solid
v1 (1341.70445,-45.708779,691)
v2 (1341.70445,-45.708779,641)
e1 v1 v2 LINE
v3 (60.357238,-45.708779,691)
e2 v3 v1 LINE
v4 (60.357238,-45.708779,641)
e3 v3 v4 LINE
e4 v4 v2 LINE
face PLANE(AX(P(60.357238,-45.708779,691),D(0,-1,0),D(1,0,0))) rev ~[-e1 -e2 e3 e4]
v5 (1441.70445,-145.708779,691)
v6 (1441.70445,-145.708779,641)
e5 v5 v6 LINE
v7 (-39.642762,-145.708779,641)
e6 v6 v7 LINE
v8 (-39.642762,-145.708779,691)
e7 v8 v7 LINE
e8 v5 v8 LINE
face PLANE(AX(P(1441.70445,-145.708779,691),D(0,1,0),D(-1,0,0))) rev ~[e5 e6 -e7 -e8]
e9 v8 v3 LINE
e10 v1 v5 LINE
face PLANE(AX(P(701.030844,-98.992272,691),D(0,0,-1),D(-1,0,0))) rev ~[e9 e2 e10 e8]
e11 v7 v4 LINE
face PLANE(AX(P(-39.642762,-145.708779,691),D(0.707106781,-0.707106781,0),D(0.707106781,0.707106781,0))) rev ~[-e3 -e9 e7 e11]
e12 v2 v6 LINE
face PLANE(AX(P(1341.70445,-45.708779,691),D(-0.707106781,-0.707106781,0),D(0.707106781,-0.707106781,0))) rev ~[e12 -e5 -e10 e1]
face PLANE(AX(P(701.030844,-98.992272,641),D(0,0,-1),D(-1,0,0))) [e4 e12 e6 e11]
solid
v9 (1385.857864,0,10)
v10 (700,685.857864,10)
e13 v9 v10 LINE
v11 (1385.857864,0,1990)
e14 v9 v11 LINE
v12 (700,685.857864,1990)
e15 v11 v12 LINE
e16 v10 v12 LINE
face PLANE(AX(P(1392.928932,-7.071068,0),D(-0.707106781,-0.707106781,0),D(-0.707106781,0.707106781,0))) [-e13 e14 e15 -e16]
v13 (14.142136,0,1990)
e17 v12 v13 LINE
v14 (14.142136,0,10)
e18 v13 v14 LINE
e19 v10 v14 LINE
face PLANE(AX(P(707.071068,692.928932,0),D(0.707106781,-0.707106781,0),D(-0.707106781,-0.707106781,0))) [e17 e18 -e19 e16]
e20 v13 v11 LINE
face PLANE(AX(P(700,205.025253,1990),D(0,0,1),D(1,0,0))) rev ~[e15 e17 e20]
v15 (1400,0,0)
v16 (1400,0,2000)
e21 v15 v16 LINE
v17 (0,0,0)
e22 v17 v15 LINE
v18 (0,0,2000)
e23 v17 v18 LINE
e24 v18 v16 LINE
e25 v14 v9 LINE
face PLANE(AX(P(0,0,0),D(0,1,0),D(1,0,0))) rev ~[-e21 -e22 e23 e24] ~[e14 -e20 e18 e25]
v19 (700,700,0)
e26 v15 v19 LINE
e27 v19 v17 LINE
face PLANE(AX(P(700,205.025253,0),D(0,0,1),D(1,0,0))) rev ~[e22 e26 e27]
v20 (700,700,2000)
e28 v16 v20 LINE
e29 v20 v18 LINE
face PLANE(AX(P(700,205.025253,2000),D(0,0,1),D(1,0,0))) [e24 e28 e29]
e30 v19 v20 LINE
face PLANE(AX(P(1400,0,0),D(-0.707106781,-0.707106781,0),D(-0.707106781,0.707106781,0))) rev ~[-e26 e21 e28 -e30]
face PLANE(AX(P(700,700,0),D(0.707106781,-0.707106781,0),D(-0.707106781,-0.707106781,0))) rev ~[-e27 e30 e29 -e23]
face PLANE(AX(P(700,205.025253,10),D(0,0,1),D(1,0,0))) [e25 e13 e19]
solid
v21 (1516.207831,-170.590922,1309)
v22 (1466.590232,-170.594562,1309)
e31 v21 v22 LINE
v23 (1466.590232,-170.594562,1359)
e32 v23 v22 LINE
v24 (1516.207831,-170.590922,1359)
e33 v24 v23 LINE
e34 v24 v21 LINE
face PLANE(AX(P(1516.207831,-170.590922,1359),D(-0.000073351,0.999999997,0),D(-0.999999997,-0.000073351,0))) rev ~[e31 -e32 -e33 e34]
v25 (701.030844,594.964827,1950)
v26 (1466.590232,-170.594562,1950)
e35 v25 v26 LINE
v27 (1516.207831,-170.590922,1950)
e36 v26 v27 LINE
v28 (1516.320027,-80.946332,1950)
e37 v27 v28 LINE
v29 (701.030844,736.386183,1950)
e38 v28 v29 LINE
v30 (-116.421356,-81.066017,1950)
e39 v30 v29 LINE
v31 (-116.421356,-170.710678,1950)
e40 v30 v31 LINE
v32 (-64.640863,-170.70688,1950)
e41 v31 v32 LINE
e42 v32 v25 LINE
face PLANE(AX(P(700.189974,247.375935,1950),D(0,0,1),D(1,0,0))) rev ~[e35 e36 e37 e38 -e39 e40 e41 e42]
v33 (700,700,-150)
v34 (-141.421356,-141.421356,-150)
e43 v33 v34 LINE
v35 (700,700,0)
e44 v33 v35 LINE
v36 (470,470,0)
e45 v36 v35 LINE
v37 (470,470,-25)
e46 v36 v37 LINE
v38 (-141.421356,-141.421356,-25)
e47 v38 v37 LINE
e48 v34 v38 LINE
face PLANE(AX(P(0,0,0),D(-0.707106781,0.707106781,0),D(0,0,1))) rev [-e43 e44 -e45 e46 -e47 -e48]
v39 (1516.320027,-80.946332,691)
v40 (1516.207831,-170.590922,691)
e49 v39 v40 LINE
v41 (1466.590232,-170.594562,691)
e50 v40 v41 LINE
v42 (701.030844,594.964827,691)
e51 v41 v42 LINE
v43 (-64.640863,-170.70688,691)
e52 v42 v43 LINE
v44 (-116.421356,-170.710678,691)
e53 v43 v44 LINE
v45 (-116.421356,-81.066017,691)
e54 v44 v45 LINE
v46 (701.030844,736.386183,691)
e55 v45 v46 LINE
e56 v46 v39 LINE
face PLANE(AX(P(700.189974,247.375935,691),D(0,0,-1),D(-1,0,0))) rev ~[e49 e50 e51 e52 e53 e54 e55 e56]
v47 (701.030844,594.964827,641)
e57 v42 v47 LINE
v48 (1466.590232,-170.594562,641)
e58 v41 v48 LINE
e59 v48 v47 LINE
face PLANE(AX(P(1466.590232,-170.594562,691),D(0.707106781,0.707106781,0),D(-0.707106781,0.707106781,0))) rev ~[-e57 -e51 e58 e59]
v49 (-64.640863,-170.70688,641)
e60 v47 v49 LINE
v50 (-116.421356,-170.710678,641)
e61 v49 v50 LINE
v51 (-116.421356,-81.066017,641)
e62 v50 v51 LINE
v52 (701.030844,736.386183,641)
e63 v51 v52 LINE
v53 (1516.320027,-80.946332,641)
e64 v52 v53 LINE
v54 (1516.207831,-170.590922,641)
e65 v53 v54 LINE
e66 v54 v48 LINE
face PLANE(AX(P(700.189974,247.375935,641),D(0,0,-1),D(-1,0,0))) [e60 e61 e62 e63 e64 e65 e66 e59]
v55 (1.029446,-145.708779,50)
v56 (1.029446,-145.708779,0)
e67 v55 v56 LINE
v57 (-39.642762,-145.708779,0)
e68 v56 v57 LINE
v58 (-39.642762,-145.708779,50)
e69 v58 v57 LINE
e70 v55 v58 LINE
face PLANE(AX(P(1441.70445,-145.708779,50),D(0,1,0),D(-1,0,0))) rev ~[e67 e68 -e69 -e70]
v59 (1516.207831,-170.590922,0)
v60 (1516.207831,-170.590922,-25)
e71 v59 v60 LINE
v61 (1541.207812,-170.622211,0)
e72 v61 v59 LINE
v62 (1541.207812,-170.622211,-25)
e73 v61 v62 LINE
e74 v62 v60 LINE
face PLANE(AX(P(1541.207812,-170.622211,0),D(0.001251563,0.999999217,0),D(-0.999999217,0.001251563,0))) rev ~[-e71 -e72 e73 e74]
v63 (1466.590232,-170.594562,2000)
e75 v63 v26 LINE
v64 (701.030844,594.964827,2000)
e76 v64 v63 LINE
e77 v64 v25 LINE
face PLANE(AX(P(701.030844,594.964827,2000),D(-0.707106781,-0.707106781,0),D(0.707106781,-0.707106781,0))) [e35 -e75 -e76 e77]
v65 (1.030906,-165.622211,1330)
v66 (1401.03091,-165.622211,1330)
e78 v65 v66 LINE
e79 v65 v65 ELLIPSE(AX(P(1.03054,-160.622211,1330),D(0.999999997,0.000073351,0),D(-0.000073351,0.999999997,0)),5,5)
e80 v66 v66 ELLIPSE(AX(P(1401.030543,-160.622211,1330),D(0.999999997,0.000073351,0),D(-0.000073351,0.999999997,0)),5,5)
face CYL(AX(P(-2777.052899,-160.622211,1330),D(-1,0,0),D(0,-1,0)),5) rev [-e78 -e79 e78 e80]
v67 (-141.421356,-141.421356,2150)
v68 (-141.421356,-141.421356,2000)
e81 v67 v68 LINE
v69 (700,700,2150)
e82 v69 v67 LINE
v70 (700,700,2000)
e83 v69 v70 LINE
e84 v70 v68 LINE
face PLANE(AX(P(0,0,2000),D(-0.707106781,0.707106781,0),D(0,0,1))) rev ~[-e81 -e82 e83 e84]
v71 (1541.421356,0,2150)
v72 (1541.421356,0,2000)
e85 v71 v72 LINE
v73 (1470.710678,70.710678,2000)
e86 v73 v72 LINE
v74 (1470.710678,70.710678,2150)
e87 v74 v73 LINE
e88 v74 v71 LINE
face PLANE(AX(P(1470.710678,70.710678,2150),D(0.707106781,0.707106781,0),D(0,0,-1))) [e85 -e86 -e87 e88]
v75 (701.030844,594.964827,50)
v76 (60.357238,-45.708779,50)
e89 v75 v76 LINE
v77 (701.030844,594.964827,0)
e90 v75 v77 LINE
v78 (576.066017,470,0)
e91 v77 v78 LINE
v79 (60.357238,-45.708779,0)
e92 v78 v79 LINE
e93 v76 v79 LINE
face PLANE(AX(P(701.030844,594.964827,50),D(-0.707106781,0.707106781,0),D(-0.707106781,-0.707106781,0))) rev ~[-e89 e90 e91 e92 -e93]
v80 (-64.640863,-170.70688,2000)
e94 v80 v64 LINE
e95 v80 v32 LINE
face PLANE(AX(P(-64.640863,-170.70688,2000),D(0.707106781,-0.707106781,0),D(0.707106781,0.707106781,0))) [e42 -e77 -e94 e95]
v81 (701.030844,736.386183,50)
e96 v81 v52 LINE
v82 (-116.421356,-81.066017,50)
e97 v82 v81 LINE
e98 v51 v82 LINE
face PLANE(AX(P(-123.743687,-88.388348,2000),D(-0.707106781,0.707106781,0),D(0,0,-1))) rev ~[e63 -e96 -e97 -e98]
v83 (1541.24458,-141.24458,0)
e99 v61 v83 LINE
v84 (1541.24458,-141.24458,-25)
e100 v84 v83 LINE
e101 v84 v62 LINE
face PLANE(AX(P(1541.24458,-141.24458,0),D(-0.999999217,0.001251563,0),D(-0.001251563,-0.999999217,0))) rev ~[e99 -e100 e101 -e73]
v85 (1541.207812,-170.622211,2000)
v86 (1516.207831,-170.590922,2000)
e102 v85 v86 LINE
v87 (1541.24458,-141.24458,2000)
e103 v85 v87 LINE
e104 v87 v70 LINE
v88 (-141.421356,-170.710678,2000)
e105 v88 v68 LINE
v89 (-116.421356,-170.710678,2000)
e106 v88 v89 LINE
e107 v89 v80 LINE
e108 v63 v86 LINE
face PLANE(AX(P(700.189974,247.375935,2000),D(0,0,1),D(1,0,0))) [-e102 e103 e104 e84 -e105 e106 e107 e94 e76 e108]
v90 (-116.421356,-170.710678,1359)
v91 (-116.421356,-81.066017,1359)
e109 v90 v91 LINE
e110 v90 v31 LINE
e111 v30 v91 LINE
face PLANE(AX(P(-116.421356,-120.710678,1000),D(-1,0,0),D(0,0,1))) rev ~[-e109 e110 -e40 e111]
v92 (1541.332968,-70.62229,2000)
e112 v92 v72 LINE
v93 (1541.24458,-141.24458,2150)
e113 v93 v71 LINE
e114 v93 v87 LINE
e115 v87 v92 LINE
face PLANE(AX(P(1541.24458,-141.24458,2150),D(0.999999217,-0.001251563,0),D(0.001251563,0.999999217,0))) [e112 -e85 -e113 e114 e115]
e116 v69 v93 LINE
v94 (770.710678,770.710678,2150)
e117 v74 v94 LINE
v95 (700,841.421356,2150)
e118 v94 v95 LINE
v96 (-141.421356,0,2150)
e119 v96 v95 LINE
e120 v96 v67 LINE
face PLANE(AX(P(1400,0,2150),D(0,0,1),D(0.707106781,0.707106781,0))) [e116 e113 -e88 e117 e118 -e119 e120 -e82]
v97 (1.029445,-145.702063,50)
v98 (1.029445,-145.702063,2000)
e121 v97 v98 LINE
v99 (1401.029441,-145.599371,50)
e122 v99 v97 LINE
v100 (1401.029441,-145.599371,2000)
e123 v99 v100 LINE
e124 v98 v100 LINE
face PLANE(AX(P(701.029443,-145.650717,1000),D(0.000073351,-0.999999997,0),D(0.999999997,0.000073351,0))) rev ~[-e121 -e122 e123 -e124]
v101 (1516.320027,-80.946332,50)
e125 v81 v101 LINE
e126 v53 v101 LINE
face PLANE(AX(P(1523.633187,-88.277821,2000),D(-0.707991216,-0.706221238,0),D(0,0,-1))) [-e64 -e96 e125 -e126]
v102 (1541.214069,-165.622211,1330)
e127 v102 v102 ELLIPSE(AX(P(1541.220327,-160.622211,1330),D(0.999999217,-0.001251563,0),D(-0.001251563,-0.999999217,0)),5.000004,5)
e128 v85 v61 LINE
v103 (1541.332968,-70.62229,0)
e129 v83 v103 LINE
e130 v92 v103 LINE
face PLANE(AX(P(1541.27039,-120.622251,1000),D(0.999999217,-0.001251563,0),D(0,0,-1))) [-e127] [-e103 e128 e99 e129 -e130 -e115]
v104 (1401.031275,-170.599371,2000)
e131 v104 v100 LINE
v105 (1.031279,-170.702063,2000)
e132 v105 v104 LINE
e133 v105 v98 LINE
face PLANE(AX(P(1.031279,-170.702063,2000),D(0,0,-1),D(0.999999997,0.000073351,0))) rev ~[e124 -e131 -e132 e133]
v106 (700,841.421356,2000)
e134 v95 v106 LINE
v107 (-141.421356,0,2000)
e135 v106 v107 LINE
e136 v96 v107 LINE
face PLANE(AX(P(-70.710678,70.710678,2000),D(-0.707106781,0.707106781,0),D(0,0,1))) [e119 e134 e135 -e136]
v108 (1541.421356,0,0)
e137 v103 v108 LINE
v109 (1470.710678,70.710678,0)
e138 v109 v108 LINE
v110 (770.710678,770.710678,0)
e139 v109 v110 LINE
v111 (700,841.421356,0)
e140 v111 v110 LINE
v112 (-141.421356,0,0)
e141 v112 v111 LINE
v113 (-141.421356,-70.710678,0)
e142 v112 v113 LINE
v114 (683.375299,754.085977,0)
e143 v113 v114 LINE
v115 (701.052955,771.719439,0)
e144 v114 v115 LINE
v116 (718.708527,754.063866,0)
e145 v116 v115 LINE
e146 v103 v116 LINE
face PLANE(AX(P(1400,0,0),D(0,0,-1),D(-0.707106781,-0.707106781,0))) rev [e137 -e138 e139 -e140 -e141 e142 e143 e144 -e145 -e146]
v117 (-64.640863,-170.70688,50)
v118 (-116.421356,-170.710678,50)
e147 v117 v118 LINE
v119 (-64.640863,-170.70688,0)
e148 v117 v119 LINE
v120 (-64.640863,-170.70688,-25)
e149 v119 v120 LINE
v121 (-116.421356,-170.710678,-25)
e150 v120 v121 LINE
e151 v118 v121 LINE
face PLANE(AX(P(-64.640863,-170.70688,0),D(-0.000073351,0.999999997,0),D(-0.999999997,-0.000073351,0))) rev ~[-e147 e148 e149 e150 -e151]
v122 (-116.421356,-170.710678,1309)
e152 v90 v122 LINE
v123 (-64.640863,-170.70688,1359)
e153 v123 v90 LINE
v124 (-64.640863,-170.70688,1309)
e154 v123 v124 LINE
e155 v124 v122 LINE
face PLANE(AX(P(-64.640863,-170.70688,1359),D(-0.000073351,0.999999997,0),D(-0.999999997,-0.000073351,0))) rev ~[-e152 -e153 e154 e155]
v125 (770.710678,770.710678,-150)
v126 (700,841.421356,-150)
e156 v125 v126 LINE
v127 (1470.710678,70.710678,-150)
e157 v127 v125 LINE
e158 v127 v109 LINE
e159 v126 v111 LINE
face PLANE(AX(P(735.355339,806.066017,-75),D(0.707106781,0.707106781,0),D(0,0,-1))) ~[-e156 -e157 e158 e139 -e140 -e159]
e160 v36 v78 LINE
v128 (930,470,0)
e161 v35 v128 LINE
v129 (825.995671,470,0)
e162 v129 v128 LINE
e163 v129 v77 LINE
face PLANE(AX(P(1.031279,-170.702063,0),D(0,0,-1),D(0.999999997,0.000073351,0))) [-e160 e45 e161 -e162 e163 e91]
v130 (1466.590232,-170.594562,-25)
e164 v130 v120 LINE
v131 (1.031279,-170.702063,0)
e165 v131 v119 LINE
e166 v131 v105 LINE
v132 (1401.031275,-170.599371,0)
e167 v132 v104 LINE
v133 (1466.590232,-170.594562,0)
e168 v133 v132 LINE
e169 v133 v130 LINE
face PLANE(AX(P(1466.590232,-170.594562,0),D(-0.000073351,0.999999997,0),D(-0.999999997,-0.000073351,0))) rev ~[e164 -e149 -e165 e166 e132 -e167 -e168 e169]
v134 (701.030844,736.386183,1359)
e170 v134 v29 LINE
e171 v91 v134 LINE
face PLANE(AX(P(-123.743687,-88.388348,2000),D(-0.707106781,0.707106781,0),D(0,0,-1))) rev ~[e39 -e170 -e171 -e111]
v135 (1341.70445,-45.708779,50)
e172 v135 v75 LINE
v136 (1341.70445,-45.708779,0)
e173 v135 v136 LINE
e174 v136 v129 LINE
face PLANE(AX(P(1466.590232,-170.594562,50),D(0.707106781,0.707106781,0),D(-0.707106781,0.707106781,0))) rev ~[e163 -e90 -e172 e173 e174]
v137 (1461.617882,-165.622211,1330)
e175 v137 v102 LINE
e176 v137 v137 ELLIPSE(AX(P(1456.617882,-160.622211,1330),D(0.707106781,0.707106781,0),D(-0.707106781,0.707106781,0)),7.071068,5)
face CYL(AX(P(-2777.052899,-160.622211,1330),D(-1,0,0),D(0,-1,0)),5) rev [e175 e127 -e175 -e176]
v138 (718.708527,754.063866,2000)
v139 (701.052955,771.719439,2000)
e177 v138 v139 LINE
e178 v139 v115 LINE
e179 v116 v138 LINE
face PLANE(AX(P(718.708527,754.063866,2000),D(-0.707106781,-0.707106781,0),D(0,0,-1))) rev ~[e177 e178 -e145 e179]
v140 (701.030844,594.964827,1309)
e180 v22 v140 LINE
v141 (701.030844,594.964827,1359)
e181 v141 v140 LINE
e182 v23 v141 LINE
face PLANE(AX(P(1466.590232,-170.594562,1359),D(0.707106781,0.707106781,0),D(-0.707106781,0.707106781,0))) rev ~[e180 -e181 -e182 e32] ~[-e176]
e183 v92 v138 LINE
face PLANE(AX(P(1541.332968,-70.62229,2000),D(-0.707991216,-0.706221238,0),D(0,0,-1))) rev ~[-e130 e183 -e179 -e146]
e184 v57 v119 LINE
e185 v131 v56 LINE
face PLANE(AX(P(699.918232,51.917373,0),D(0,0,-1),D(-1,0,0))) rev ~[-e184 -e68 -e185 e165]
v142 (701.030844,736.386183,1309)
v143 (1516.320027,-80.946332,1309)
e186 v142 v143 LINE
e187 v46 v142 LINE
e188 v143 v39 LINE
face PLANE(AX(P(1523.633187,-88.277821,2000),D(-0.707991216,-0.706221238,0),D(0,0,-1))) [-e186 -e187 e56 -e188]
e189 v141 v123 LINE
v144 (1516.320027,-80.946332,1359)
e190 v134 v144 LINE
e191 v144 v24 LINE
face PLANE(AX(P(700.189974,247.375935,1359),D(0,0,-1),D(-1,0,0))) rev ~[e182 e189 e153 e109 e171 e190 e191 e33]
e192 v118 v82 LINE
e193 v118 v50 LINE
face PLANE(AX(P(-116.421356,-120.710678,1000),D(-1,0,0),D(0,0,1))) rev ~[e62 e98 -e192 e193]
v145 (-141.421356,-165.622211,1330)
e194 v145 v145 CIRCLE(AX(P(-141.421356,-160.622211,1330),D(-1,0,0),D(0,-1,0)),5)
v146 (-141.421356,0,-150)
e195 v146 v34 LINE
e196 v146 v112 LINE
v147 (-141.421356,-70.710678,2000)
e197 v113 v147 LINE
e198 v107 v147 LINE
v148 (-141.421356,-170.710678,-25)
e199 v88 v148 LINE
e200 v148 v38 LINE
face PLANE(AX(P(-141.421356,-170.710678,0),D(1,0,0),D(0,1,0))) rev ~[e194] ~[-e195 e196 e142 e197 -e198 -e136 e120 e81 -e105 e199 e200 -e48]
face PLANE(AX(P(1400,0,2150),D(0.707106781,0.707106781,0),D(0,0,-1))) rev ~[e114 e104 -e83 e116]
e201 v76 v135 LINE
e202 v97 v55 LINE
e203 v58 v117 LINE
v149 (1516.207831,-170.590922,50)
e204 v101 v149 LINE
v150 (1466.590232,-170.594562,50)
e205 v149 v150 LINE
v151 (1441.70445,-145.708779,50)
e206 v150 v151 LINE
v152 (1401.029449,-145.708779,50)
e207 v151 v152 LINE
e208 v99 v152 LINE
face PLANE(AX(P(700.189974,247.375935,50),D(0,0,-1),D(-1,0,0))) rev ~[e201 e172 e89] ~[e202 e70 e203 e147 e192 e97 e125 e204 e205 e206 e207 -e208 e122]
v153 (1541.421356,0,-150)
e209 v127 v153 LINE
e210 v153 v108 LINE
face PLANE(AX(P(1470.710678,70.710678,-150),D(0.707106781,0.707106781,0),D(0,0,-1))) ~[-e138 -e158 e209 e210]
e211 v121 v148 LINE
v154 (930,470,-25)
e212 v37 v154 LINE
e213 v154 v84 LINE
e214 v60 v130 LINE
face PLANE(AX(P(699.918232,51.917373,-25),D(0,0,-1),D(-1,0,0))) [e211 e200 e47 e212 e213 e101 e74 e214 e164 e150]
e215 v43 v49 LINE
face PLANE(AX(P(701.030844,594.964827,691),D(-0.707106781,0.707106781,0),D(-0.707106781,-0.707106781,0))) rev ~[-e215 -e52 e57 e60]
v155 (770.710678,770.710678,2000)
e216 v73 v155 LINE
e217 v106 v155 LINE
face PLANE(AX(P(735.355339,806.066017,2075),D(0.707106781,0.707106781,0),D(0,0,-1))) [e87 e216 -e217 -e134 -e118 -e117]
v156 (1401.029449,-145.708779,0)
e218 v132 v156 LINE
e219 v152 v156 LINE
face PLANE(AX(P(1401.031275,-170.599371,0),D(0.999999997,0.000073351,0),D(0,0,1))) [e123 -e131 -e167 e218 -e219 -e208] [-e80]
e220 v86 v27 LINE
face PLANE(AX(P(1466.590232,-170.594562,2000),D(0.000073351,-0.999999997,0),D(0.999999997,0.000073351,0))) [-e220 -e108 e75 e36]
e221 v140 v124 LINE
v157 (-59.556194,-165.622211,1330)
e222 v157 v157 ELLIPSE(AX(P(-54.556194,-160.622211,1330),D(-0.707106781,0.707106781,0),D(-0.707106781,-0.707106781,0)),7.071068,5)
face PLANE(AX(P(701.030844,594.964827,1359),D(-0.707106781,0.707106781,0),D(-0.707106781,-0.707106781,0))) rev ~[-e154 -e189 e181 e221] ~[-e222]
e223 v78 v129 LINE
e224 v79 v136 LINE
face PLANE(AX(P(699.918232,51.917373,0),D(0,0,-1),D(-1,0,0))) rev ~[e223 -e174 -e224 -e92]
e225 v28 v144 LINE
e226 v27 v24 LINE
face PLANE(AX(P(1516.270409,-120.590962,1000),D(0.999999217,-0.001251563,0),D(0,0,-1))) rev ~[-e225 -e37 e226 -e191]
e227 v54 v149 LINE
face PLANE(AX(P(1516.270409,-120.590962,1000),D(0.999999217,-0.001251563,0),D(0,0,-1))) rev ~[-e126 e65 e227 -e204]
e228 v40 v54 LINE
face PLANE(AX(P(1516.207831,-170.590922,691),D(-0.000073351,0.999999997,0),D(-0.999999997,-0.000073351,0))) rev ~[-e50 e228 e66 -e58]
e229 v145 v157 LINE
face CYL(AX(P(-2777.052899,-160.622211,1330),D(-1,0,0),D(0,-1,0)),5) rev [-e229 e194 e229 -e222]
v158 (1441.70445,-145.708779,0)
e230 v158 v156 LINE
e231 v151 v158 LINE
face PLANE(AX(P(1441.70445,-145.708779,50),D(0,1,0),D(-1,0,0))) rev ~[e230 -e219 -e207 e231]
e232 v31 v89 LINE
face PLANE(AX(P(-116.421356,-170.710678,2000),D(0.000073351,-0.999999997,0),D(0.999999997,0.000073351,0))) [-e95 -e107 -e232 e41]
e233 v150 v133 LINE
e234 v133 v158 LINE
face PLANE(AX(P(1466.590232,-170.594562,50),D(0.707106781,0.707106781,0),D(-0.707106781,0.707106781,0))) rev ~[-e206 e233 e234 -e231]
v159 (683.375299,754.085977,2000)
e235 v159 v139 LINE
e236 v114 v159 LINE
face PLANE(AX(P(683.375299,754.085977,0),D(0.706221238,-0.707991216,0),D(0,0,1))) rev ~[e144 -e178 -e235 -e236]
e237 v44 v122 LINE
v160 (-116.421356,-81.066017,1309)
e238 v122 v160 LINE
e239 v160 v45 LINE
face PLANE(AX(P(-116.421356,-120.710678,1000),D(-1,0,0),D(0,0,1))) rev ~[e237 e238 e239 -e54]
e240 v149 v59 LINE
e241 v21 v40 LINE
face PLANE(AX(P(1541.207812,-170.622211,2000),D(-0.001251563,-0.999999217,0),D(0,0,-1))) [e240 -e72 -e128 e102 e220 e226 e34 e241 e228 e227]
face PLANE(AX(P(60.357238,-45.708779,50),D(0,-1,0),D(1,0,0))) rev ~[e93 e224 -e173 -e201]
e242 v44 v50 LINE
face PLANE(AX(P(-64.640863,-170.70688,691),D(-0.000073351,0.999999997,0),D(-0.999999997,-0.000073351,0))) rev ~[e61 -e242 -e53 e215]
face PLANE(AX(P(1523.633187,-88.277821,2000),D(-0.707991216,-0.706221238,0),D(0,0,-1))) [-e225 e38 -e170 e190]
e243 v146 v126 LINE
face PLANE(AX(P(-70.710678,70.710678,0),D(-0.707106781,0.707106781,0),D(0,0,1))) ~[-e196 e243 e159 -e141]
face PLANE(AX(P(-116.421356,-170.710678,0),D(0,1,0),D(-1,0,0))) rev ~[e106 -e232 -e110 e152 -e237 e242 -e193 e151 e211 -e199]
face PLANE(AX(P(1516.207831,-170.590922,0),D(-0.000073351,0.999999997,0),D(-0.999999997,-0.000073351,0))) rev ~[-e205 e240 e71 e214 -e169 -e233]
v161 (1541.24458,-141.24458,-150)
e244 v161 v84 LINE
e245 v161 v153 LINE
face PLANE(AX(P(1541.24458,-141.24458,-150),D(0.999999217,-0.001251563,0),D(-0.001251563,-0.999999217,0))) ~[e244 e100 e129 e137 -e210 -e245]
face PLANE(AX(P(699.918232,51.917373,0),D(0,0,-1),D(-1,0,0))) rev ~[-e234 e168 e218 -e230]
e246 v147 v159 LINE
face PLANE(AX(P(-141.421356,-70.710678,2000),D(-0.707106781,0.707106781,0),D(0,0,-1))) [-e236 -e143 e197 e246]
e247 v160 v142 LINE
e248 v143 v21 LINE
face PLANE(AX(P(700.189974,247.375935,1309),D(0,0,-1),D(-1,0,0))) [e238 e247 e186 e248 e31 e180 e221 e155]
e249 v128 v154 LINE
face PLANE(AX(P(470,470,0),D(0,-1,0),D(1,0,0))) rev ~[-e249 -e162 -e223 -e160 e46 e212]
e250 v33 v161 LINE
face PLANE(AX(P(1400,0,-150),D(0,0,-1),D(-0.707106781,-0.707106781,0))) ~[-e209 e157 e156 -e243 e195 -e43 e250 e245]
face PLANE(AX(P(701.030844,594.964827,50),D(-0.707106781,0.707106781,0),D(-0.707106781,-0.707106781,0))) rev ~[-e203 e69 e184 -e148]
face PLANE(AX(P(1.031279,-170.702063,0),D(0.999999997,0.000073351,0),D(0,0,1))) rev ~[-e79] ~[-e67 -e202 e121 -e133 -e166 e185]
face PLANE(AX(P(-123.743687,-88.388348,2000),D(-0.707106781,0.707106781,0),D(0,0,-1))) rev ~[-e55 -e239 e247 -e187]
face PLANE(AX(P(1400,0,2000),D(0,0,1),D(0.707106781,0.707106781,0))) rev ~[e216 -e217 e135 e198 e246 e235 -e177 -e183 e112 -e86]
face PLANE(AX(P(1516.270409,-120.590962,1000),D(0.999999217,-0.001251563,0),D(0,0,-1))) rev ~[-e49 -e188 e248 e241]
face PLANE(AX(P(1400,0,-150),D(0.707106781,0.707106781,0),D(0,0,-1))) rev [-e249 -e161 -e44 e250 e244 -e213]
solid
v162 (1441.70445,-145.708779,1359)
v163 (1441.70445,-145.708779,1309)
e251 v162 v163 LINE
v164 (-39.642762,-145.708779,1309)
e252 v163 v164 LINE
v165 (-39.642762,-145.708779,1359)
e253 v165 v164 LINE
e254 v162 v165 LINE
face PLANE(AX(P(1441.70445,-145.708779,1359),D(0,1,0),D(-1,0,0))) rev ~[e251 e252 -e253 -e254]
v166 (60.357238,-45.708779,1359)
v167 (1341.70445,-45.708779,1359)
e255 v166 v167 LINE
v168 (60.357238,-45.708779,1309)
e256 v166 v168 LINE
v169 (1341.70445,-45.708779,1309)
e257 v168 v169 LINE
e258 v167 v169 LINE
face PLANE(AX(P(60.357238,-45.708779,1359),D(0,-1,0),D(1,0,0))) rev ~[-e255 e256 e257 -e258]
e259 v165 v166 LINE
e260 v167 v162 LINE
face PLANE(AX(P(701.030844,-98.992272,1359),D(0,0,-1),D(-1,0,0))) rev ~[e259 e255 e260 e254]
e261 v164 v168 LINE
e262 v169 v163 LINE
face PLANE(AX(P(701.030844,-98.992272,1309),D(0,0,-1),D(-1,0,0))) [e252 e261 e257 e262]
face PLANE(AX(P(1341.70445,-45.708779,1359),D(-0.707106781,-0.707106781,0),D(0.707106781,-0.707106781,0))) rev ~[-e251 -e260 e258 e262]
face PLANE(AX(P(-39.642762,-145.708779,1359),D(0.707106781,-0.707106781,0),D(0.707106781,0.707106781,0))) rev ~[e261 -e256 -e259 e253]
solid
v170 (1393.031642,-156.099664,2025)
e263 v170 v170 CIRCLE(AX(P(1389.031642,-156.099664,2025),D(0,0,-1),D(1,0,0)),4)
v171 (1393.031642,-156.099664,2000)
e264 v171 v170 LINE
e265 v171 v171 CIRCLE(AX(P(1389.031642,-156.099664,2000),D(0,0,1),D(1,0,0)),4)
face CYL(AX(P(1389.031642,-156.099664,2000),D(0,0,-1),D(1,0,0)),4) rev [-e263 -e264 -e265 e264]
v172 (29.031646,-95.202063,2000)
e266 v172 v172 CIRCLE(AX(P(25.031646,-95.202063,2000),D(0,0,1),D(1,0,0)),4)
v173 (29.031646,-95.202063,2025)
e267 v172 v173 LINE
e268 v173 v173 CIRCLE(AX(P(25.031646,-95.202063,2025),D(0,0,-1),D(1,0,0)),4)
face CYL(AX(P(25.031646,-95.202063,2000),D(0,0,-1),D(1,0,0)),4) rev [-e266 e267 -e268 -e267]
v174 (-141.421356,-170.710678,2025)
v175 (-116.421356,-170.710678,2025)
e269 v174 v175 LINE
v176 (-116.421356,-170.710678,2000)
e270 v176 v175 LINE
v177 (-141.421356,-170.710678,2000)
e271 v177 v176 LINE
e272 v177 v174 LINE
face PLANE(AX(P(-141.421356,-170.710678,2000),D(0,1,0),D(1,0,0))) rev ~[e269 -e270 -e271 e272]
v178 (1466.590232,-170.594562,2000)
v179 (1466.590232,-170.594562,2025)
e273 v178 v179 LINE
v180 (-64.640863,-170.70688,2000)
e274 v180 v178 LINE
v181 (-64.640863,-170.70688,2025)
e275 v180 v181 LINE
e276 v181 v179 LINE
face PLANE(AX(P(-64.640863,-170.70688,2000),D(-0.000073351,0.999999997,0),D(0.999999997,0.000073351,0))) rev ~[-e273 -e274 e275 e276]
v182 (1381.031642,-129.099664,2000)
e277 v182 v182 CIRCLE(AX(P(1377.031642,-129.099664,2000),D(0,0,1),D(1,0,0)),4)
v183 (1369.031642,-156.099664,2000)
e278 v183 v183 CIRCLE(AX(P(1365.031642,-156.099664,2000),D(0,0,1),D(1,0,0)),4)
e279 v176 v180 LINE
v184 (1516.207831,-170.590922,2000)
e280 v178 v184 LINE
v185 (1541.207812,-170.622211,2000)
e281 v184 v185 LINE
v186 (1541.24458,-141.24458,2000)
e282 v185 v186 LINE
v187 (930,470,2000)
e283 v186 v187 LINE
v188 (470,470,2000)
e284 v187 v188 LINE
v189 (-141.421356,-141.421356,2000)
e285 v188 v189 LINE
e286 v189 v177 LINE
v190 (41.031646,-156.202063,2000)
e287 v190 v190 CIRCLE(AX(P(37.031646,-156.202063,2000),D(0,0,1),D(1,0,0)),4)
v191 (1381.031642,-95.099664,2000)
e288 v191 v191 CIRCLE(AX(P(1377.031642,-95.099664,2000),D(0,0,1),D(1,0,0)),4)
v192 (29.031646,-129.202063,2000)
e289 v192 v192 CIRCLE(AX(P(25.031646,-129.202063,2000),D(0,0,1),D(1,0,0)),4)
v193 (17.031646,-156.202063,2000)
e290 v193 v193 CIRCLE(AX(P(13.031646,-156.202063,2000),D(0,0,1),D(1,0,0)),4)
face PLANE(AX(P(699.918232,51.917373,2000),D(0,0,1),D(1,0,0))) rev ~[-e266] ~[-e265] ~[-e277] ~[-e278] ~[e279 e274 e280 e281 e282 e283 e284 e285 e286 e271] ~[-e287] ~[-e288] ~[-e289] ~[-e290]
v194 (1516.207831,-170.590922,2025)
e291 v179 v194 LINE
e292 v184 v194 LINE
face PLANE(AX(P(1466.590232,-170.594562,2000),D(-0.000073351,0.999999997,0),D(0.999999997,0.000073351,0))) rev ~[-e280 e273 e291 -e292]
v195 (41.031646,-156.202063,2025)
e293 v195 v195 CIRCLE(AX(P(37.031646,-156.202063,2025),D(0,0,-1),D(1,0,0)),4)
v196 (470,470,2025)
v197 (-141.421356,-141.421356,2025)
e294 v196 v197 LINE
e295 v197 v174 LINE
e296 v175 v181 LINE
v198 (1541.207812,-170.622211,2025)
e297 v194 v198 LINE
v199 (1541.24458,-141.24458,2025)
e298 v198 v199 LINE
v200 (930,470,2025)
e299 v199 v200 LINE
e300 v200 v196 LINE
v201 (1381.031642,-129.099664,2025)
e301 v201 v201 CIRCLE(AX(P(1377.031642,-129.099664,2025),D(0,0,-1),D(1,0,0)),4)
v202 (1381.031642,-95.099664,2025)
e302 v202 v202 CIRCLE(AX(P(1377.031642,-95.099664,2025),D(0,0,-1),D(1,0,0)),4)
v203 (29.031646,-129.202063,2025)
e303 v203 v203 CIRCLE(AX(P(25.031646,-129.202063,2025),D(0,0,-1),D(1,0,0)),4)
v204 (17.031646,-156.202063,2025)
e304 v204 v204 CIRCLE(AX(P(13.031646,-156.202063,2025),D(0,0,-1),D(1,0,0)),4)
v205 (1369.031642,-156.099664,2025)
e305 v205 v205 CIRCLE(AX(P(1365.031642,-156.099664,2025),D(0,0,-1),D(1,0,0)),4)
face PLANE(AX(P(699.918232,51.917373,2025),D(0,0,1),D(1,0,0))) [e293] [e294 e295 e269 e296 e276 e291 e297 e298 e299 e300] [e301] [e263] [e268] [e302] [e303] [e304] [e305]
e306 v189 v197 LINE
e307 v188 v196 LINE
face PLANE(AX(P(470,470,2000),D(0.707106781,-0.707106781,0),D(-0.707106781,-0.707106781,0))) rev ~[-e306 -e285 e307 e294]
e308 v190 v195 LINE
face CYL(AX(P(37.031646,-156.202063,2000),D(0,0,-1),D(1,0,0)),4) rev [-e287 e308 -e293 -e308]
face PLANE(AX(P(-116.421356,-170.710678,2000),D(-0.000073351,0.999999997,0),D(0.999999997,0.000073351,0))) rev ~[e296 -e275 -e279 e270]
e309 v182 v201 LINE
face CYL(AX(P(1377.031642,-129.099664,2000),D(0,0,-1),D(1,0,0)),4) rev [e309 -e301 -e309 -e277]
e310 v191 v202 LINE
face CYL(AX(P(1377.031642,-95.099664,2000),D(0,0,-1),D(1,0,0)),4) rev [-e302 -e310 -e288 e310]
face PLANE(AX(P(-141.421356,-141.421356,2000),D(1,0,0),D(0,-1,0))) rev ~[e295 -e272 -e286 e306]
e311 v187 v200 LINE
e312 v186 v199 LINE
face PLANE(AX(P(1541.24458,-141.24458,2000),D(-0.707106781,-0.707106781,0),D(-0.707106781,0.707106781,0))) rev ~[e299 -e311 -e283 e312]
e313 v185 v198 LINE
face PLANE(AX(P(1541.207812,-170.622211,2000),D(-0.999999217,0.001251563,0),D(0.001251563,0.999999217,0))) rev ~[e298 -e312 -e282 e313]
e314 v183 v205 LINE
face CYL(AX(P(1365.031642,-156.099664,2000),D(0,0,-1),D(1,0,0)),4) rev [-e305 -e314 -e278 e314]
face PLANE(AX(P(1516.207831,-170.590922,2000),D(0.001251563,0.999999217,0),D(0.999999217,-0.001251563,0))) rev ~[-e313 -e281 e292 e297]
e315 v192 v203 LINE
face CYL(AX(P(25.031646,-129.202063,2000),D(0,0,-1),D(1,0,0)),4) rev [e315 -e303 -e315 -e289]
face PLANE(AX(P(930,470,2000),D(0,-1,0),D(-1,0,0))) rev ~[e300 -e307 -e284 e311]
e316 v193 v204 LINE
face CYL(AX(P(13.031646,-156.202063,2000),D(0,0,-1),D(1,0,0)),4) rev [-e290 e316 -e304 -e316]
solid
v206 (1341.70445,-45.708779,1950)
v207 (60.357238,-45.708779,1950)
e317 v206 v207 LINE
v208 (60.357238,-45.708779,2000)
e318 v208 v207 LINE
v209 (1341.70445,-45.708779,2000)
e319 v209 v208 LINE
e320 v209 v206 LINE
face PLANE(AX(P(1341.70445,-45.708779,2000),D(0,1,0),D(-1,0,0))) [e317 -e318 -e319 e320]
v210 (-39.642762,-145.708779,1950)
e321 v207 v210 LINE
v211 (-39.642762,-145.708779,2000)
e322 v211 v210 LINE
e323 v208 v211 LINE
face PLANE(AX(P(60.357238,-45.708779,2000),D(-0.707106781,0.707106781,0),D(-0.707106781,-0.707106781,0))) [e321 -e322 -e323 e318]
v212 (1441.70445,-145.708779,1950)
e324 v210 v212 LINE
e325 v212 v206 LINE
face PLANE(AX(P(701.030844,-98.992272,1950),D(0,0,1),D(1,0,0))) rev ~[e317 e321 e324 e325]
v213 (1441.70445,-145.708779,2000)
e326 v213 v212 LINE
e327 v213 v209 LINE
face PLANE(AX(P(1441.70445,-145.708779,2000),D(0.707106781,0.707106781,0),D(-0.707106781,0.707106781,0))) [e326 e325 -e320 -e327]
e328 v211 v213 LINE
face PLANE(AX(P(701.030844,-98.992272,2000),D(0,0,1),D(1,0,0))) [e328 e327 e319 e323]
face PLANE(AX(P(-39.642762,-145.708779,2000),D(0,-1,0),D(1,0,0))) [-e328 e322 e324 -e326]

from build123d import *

# Parameters (mm, degrees)
BOSS_EXTRUDE1_DEPTH      = 2000
SHELL1_T                 = -10
SKETCH3_W                = 150
SKETCH3_H                = 1096.015510839
BOSS_EXTRUDE2_DEPTH      = 100
SKETCH7_W                = 150
SKETCH7_H                = 1089.949493661
BOSS_EXTRUDE4_DEPTH      = 100
CUT_EXTRUDE1_DEPTH       = 6
CUT_EXTRUDE1_DEPTH_BACK  = 6.066017
SKETCH8_W                = 150
SKETCH8_H                = 100
SKETCH9_W                = 150
SKETCH9_H                = 100
BOSS_EXTRUDE5_DEPTH      = 239.05
SKETCH10_W               = 150
SKETCH10_H               = 100
BOSS_EXTRUDE6_DEPTH      = 399.5
CUT_EXTRUDE4_DEPTH       = 1197.5
SKETCH14_W               = 2000
SKETCH14_H               = 100
BOSS_EXTRUDE7_DEPTH      = 25
SKETCH15_W               = 2000
SKETCH15_H               = 100
BOSS_EXTRUDE8_DEPTH      = 25
SKETCH16_W               = 2000
SKETCH16_H               = 25
BOSS_EXTRUDE9_DEPTH      = 1436
SKETCH17_W               = 25
SKETCH17_H               = 2000
BOSS_EXTRUDE10_DEPTH     = 1436
CUT_EXTRUDE11_DEPTH      = 1286
CUT_EXTRUDE12_DEPTH      = 1286
BOSS_EXTRUDE13_DEPTH     = 50
BOSS_EXTRUDE14_DEPTH     = 50
BOSS_EXTRUDE15_DEPTH     = 50
BOSS_EXTRUDE16_DEPTH     = 50
BOSS_EXTRUDE17_DEPTH     = 50
BOSS_EXTRUDE18_DEPTH     = 50
BOSS_EXTRUDE19_DEPTH     = 50
BOSS_EXTRUDE20_DEPTH     = 50
SKETCH34_W               = 1400
SKETCH34_H               = 2000
BOSS_EXTRUDE21_DEPTH     = 25
BOSS_EXTRUDE22_DEPTH     = 25
BOSS_EXTRUDE23_DEPTH     = 25
CUT_EXTRUDE16_DEPTH      = 2777.052898712
CUT_EXTRUDE16_DEPTH_BACK = 2777.052898712
SKETCH43_R               = 5
SKETCH45_R               = 4
CUT_EXTRUDE17_DEPTH      = 30


with BuildPart() as part:
    # Sketch1 → Boss-Extrude1 (new body)
    with BuildSketch(Plane.XY):
        Polygon((0, 0), (1400, 0), (700, 700), align=None)
    extrude(amount=BOSS_EXTRUDE1_DEPTH)

    # Shell1
    shell1_openings = [part.faces().sort_by_distance(p)[0] for p in [
        (700, 0, 1000),
    ]]
    offset(amount=SHELL1_T, openings=shell1_openings, kind=Kind.INTERSECTION)


with BuildPart() as body_2:
    # Sketch3 → Boss-Extrude2 (new body)
    with BuildSketch(Plane(origin=(0, 0, 0), x_dir=(0, 0, 1), z_dir=(-0.7071067811865477, 0.7071067811865475, 0))):
        with Locations((2075, 548.00775542)):
            Rectangle(SKETCH3_W, SKETCH3_H)
    extrude(amount=BOSS_EXTRUDE2_DEPTH)

    # Sketch7 → Boss-Extrude4 (add)
    with BuildSketch(Plane(origin=(700, 700, 0), x_dir=(0, 0, -1), z_dir=(0.7071067811865477, 0.7071067811865475, 0))):
        with Locations((-2075, -444.974746831)):
            Rectangle(SKETCH7_W, SKETCH7_H)
    extrude(amount=BOSS_EXTRUDE4_DEPTH)

    # Sketch8 → Cut-Extrude1 (cut, two sides: drawn at the far end of the back side and taken through both)
    with BuildSketch(Plane(origin=(775, 775, 0), x_dir=(0, 0, -1), z_dir=(0.7071067811865476, 0.7071067811865476, 0)).offset(-CUT_EXTRUDE1_DEPTH_BACK)):
        with Locations((-2075, 50)):
            Rectangle(SKETCH8_W, SKETCH8_H)
    extrude(amount=CUT_EXTRUDE1_DEPTH + CUT_EXTRUDE1_DEPTH_BACK, mode=Mode.SUBTRACT)

    # Sketch9 → Boss-Extrude5 (add)
    with BuildSketch(Plane(origin=(0, 0, 0), x_dir=(0, 0, 1), z_dir=(-0.7071067811865476, -0.7071067811865476, 0))):
        with Locations((2075, 50)):
            Rectangle(SKETCH9_W, SKETCH9_H)
    extrude(amount=BOSS_EXTRUDE5_DEPTH)

    # Sketch10 → Boss-Extrude6 (add)
    with BuildSketch(Plane(origin=(700, -700, 0), x_dir=(0, 0, -1), z_dir=(0.7071067811865476, -0.7071067811865476, 0))):
        with Locations((-2075, 1039.949493661)):
            Rectangle(SKETCH10_W, SKETCH10_H)
    extrude(amount=BOSS_EXTRUDE6_DEPTH)

    # Sketch13 → Cut-Extrude4 (cut)
    with BuildSketch(Plane.XY.offset(2150)):
        Polygon((-141.421356237, 0), (-141.421356237, -141.421356237), (-169.033876043, -169.033876043), (-239.744554161, -98.323197924), align=None)
        Polygon((1541.421356237, 0), (1753.199837203, -211.778480965), (1682.489159084, -282.489159084), (1541.244579542, -141.244579542), align=None)
    extrude(amount=-CUT_EXTRUDE4_DEPTH, mode=Mode.SUBTRACT)


with BuildPart() as body_3:
    # Mirror4: mirrored copy
    add(body_2.part.mirror(Plane.XY.offset(1000)))


with BuildPart() as body_2_1:
    add(body_2.part)

    add(body_3.part)  # Boss-Extrude7 merges body 3
    # Sketch14 → Boss-Extrude7 (add)
    with BuildSketch(Plane.ZY.offset(141.421356237)):
        with Locations((1000, -120.710678119)):
            Rectangle(SKETCH14_W, SKETCH14_H)
    extrude(amount=-BOSS_EXTRUDE7_DEPTH)

    # Sketch15 → Boss-Extrude8 (add)
    with BuildSketch(Plane(origin=(1541.418941738, -1.929185159, 0), x_dir=(0, 0, -1), z_dir=(0.999999216794127, -0.001251563475337267, 0))):
        with Locations((-1000, -118.693158413)):
            Rectangle(SKETCH15_W, SKETCH15_H)
    extrude(amount=-BOSS_EXTRUDE8_DEPTH)

    # Sketch16 → Boss-Extrude9 (add)
    with BuildSketch(Plane(origin=(-106.066017178, -106.066017178, 0), x_dir=(0, 0, -1), z_dir=(0.7071067811865483, 0.7071067811865468, 0))):
        with Locations((-1000, 37.5)):
            Rectangle(SKETCH16_W, SKETCH16_H)
    extrude(amount=BOSS_EXTRUDE9_DEPTH)

    # Sketch17 → Boss-Extrude10 (add)
    with BuildSketch(Plane(origin=(804.048443672, -806.063602678, 0), x_dir=(0.7079912163968599, 0.7062212383558673, 0), z_dir=(-0.7062212383558673, 0.7079912163968599, 0))):
        with Locations((1028.875241871, -1000)):
            Rectangle(SKETCH17_W, SKETCH17_H)
    extrude(amount=BOSS_EXTRUDE10_DEPTH)

    # Sketch27 → Cut-Extrude11 (cut)
    with BuildSketch(Plane(origin=(719.584743808, 717.785781949, 0), x_dir=(0, 0, 1), z_dir=(-0.7079912163968599, -0.7062212383558673, 0))):
        Polygon((0, 101.272137447), (0, 51.272098287), (2000, 51.272098287), (2000, 101.272137447), (2000, 297.477961859), (0, 297.477961859), align=None)
    extrude(amount=-CUT_EXTRUDE11_DEPTH, mode=Mode.SUBTRACT)

    # Sketch28 → Cut-Extrude12 (cut)
    with BuildSketch(Plane(origin=(-17.67766953, 17.67766953, 0), x_dir=(0, 0, -1), z_dir=(0.7071067811865468, -0.7071067811865483, 0))):
        Polygon((-2000, 1041.407346594), (0, 1041.407346594), (0, 1089.949493661), (0, 1286), (-2000, 1286), (-2000, 1089.949493661), align=None)
    extrude(amount=-CUT_EXTRUDE12_DEPTH, mode=Mode.SUBTRACT)

    # Sketch29 → Boss-Extrude13 (add)
    with BuildSketch(Plane(origin=(0, 0, 2000), x_dir=(-1, 0, 0), z_dir=(0, 0, -1))):
        Polygon((-701.03084385, 594.964826672), (-1466.590232409, -170.594561887), (-1516.207831122, -170.590922364), (-1516.320027106, -80.946331633), (-701.03084385, 736.386182909), (-630.320165731, 665.67550479), (116.421356237, -81.066017178), (116.421356237, -170.710678119), (64.640862765, -170.706879943), align=None)
    extrude(amount=BOSS_EXTRUDE13_DEPTH)

    # Sketch30 → Boss-Extrude14 (add)
    with BuildSketch(Plane(origin=(0, 0, 1359), x_dir=(-1, 0, 0), z_dir=(0, 0, -1))):
        Polygon((-701.03084385, 736.386182909), (-1516.320027106, -80.946331633), (-1516.207831122, -170.590922364), (-1466.590232409, -170.594561887), (-701.03084385, 594.964826672), (64.640862765, -170.706879943), (116.421356237, -170.710678119), (116.421356237, -81.066017178), align=None)
    extrude(amount=BOSS_EXTRUDE14_DEPTH)

    # Sketch31 → Boss-Extrude15 (add)
    with BuildSketch(Plane(origin=(0, 0, 691), x_dir=(-1, 0, 0), z_dir=(0, 0, -1))):
        Polygon((116.421356237, -81.066017178), (-701.03084385, 736.386182909), (-1516.320027106, -80.946331633), (-1516.207831122, -170.590922364), (-1466.590232409, -170.594561887), (-701.03084385, 594.964826672), (64.640862765, -170.706879943), (116.421356237, -170.710678119), align=None)
    extrude(amount=BOSS_EXTRUDE15_DEPTH)

    # Sketch33 → Boss-Extrude16 (add)
    with BuildSketch(Plane(origin=(0, 0, 50), x_dir=(-1, 0, 0), z_dir=(0, 0, -1))):
        Polygon((116.421356237, -170.710678119), (116.421356237, -81.066017178), (-701.03084385, 736.386182909), (-1516.320027106, -80.946331633), (-1516.207831122, -170.590922364), (-1466.590232409, -170.594561887), (-701.03084385, 594.964826672), (64.640862765, -170.706879943), align=None)
    extrude(amount=BOSS_EXTRUDE16_DEPTH)



with BuildPart() as body_3_2:
    # Sketch35 → Boss-Extrude17 (new body)
    with BuildSketch(Plane.XY.offset(2000)):
        Polygon((1341.704449553, -45.708779031), (60.357238147, -45.708779031), (-39.642761853, -145.708779031), (1441.704449553, -145.708779031), align=None)
    extrude(amount=-BOSS_EXTRUDE17_DEPTH)


with BuildPart() as body_4:
    # Sketch36 → Boss-Extrude18 (new body)
    with BuildSketch(Plane(origin=(0, 0, 1359), x_dir=(-1, 0, 0), z_dir=(0, 0, -1))):
        Polygon((39.642761853, -145.708779031), (-60.357238147, -45.708779031), (-1341.704449553, -45.708779031), (-1441.704449553, -145.708779031), align=None)
    extrude(amount=BOSS_EXTRUDE18_DEPTH)


with BuildPart() as body_5:
    # Sketch37 → Boss-Extrude19 (new body)
    with BuildSketch(Plane(origin=(0, 0, 691), x_dir=(-1, 0, 0), z_dir=(0, 0, -1))):
        Polygon((-1441.704449553, -145.708779031), (39.642761853, -145.708779031), (-60.357238147, -45.708779031), (-1341.704449553, -45.708779031), align=None)
    extrude(amount=BOSS_EXTRUDE19_DEPTH)


with BuildPart() as body_6:
    # Sketch38 → Boss-Extrude20 (new body)
    with BuildSketch(Plane(origin=(0, 0, 50), x_dir=(-1, 0, 0), z_dir=(0, 0, -1))):
        Polygon((-1341.704449553, -45.708779031), (-1441.704449553, -145.708779031), (39.642761853, -145.708779031), (-60.357238147, -45.708779031), align=None)
    extrude(amount=BOSS_EXTRUDE20_DEPTH)


with BuildPart() as body_7:
    # Sketch34 → Boss-Extrude21 (new body)
    with BuildSketch(Plane(origin=(0.012521253, -170.702137522, 0), x_dir=(0.9999999973097808, 7.335147241276342e-05, 0), z_dir=(7.335147241276342e-05, -0.9999999973097808, 0))):
        with Locations((701.018757721, 1000)):
            Rectangle(SKETCH34_W, SKETCH34_H)
    extrude(amount=-BOSS_EXTRUDE21_DEPTH)


with BuildPart() as body_8:
    # Sketch39 → Boss-Extrude22 (new body)
    with BuildSketch(Plane.XY.offset(2000)):
        Polygon((-64.640862765, -170.706879943), (1466.590232409, -170.594561887), (1516.207831122, -170.590922364), (1541.207811542, -170.62221145), (1541.244579542, -141.244579542), (930, 470), (470, 470), (-141.421356237, -141.421356237), (-141.421356237, -170.710678119), (-116.421356237, -170.710678119), align=None)
    extrude(amount=BOSS_EXTRUDE22_DEPTH)

    # Sketch45 → Cut-Extrude17 (cut)
    with BuildSketch(Plane.XY.offset(2000)):
        with Locations((13.031645739, -156.202062795)):
            Circle(SKETCH45_R)
        with Locations((37.031645739, -156.202062795)):
            Circle(SKETCH45_R)
        with Locations((25.031645739, -129.202062795)):
            Circle(SKETCH45_R)
        with Locations((25.031645739, -95.202062795)):
            Circle(SKETCH45_R)
        with Locations((1365.031641973, -156.099664126)):
            Circle(SKETCH45_R)
        with Locations((1389.031641973, -156.099664126)):
            Circle(SKETCH45_R)
        with Locations((1377.031641973, -129.099664126)):
            Circle(SKETCH45_R)
        with Locations((1377.031641973, -95.099664126)):
            Circle(SKETCH45_R)
    extrude(amount=CUT_EXTRUDE17_DEPTH, mode=Mode.SUBTRACT)


with BuildPart() as body_2_2:
    add(body_2_1.part)

    add(body_6.part)  # Boss-Extrude23 merges body 6

    add(body_7.part)  # Boss-Extrude23 merges body 7
    # Sketch40 → Boss-Extrude23 (add)
    with BuildSketch(Plane(origin=(0, 0, 0), x_dir=(-1, 0, 0), z_dir=(0, 0, -1))):
        Polygon((-1466.590232409, -170.594561887), (64.640862765, -170.706879943), (116.421356237, -170.710678119), (141.421356237, -170.710678119), (141.421356237, -141.421356237), (-470, 470), (-930, 470), (-1541.244579542, -141.244579542), (-1541.207811542, -170.62221145), (-1516.207831122, -170.590922364), align=None)
    extrude(amount=BOSS_EXTRUDE23_DEPTH)

    # Sketch43 → Cut-Extrude16 (cut, two sides: drawn at the far end of the back side and taken through both)
    with BuildSketch(Plane(origin=(0, 0, 0), x_dir=(0, 0, -1), z_dir=(1, 0, 0)).offset(-CUT_EXTRUDE16_DEPTH_BACK)):
        with Locations(Location((-1330, -160.62221145, 0), (0, 0, 270))):
            Circle(SKETCH43_R)
    extrude(amount=CUT_EXTRUDE16_DEPTH + CUT_EXTRUDE16_DEPTH_BACK, mode=Mode.SUBTRACT)


solid = Compound([part.part, body_3_2.part, body_4.part, body_5.part, body_8.part, body_2_2.part])
